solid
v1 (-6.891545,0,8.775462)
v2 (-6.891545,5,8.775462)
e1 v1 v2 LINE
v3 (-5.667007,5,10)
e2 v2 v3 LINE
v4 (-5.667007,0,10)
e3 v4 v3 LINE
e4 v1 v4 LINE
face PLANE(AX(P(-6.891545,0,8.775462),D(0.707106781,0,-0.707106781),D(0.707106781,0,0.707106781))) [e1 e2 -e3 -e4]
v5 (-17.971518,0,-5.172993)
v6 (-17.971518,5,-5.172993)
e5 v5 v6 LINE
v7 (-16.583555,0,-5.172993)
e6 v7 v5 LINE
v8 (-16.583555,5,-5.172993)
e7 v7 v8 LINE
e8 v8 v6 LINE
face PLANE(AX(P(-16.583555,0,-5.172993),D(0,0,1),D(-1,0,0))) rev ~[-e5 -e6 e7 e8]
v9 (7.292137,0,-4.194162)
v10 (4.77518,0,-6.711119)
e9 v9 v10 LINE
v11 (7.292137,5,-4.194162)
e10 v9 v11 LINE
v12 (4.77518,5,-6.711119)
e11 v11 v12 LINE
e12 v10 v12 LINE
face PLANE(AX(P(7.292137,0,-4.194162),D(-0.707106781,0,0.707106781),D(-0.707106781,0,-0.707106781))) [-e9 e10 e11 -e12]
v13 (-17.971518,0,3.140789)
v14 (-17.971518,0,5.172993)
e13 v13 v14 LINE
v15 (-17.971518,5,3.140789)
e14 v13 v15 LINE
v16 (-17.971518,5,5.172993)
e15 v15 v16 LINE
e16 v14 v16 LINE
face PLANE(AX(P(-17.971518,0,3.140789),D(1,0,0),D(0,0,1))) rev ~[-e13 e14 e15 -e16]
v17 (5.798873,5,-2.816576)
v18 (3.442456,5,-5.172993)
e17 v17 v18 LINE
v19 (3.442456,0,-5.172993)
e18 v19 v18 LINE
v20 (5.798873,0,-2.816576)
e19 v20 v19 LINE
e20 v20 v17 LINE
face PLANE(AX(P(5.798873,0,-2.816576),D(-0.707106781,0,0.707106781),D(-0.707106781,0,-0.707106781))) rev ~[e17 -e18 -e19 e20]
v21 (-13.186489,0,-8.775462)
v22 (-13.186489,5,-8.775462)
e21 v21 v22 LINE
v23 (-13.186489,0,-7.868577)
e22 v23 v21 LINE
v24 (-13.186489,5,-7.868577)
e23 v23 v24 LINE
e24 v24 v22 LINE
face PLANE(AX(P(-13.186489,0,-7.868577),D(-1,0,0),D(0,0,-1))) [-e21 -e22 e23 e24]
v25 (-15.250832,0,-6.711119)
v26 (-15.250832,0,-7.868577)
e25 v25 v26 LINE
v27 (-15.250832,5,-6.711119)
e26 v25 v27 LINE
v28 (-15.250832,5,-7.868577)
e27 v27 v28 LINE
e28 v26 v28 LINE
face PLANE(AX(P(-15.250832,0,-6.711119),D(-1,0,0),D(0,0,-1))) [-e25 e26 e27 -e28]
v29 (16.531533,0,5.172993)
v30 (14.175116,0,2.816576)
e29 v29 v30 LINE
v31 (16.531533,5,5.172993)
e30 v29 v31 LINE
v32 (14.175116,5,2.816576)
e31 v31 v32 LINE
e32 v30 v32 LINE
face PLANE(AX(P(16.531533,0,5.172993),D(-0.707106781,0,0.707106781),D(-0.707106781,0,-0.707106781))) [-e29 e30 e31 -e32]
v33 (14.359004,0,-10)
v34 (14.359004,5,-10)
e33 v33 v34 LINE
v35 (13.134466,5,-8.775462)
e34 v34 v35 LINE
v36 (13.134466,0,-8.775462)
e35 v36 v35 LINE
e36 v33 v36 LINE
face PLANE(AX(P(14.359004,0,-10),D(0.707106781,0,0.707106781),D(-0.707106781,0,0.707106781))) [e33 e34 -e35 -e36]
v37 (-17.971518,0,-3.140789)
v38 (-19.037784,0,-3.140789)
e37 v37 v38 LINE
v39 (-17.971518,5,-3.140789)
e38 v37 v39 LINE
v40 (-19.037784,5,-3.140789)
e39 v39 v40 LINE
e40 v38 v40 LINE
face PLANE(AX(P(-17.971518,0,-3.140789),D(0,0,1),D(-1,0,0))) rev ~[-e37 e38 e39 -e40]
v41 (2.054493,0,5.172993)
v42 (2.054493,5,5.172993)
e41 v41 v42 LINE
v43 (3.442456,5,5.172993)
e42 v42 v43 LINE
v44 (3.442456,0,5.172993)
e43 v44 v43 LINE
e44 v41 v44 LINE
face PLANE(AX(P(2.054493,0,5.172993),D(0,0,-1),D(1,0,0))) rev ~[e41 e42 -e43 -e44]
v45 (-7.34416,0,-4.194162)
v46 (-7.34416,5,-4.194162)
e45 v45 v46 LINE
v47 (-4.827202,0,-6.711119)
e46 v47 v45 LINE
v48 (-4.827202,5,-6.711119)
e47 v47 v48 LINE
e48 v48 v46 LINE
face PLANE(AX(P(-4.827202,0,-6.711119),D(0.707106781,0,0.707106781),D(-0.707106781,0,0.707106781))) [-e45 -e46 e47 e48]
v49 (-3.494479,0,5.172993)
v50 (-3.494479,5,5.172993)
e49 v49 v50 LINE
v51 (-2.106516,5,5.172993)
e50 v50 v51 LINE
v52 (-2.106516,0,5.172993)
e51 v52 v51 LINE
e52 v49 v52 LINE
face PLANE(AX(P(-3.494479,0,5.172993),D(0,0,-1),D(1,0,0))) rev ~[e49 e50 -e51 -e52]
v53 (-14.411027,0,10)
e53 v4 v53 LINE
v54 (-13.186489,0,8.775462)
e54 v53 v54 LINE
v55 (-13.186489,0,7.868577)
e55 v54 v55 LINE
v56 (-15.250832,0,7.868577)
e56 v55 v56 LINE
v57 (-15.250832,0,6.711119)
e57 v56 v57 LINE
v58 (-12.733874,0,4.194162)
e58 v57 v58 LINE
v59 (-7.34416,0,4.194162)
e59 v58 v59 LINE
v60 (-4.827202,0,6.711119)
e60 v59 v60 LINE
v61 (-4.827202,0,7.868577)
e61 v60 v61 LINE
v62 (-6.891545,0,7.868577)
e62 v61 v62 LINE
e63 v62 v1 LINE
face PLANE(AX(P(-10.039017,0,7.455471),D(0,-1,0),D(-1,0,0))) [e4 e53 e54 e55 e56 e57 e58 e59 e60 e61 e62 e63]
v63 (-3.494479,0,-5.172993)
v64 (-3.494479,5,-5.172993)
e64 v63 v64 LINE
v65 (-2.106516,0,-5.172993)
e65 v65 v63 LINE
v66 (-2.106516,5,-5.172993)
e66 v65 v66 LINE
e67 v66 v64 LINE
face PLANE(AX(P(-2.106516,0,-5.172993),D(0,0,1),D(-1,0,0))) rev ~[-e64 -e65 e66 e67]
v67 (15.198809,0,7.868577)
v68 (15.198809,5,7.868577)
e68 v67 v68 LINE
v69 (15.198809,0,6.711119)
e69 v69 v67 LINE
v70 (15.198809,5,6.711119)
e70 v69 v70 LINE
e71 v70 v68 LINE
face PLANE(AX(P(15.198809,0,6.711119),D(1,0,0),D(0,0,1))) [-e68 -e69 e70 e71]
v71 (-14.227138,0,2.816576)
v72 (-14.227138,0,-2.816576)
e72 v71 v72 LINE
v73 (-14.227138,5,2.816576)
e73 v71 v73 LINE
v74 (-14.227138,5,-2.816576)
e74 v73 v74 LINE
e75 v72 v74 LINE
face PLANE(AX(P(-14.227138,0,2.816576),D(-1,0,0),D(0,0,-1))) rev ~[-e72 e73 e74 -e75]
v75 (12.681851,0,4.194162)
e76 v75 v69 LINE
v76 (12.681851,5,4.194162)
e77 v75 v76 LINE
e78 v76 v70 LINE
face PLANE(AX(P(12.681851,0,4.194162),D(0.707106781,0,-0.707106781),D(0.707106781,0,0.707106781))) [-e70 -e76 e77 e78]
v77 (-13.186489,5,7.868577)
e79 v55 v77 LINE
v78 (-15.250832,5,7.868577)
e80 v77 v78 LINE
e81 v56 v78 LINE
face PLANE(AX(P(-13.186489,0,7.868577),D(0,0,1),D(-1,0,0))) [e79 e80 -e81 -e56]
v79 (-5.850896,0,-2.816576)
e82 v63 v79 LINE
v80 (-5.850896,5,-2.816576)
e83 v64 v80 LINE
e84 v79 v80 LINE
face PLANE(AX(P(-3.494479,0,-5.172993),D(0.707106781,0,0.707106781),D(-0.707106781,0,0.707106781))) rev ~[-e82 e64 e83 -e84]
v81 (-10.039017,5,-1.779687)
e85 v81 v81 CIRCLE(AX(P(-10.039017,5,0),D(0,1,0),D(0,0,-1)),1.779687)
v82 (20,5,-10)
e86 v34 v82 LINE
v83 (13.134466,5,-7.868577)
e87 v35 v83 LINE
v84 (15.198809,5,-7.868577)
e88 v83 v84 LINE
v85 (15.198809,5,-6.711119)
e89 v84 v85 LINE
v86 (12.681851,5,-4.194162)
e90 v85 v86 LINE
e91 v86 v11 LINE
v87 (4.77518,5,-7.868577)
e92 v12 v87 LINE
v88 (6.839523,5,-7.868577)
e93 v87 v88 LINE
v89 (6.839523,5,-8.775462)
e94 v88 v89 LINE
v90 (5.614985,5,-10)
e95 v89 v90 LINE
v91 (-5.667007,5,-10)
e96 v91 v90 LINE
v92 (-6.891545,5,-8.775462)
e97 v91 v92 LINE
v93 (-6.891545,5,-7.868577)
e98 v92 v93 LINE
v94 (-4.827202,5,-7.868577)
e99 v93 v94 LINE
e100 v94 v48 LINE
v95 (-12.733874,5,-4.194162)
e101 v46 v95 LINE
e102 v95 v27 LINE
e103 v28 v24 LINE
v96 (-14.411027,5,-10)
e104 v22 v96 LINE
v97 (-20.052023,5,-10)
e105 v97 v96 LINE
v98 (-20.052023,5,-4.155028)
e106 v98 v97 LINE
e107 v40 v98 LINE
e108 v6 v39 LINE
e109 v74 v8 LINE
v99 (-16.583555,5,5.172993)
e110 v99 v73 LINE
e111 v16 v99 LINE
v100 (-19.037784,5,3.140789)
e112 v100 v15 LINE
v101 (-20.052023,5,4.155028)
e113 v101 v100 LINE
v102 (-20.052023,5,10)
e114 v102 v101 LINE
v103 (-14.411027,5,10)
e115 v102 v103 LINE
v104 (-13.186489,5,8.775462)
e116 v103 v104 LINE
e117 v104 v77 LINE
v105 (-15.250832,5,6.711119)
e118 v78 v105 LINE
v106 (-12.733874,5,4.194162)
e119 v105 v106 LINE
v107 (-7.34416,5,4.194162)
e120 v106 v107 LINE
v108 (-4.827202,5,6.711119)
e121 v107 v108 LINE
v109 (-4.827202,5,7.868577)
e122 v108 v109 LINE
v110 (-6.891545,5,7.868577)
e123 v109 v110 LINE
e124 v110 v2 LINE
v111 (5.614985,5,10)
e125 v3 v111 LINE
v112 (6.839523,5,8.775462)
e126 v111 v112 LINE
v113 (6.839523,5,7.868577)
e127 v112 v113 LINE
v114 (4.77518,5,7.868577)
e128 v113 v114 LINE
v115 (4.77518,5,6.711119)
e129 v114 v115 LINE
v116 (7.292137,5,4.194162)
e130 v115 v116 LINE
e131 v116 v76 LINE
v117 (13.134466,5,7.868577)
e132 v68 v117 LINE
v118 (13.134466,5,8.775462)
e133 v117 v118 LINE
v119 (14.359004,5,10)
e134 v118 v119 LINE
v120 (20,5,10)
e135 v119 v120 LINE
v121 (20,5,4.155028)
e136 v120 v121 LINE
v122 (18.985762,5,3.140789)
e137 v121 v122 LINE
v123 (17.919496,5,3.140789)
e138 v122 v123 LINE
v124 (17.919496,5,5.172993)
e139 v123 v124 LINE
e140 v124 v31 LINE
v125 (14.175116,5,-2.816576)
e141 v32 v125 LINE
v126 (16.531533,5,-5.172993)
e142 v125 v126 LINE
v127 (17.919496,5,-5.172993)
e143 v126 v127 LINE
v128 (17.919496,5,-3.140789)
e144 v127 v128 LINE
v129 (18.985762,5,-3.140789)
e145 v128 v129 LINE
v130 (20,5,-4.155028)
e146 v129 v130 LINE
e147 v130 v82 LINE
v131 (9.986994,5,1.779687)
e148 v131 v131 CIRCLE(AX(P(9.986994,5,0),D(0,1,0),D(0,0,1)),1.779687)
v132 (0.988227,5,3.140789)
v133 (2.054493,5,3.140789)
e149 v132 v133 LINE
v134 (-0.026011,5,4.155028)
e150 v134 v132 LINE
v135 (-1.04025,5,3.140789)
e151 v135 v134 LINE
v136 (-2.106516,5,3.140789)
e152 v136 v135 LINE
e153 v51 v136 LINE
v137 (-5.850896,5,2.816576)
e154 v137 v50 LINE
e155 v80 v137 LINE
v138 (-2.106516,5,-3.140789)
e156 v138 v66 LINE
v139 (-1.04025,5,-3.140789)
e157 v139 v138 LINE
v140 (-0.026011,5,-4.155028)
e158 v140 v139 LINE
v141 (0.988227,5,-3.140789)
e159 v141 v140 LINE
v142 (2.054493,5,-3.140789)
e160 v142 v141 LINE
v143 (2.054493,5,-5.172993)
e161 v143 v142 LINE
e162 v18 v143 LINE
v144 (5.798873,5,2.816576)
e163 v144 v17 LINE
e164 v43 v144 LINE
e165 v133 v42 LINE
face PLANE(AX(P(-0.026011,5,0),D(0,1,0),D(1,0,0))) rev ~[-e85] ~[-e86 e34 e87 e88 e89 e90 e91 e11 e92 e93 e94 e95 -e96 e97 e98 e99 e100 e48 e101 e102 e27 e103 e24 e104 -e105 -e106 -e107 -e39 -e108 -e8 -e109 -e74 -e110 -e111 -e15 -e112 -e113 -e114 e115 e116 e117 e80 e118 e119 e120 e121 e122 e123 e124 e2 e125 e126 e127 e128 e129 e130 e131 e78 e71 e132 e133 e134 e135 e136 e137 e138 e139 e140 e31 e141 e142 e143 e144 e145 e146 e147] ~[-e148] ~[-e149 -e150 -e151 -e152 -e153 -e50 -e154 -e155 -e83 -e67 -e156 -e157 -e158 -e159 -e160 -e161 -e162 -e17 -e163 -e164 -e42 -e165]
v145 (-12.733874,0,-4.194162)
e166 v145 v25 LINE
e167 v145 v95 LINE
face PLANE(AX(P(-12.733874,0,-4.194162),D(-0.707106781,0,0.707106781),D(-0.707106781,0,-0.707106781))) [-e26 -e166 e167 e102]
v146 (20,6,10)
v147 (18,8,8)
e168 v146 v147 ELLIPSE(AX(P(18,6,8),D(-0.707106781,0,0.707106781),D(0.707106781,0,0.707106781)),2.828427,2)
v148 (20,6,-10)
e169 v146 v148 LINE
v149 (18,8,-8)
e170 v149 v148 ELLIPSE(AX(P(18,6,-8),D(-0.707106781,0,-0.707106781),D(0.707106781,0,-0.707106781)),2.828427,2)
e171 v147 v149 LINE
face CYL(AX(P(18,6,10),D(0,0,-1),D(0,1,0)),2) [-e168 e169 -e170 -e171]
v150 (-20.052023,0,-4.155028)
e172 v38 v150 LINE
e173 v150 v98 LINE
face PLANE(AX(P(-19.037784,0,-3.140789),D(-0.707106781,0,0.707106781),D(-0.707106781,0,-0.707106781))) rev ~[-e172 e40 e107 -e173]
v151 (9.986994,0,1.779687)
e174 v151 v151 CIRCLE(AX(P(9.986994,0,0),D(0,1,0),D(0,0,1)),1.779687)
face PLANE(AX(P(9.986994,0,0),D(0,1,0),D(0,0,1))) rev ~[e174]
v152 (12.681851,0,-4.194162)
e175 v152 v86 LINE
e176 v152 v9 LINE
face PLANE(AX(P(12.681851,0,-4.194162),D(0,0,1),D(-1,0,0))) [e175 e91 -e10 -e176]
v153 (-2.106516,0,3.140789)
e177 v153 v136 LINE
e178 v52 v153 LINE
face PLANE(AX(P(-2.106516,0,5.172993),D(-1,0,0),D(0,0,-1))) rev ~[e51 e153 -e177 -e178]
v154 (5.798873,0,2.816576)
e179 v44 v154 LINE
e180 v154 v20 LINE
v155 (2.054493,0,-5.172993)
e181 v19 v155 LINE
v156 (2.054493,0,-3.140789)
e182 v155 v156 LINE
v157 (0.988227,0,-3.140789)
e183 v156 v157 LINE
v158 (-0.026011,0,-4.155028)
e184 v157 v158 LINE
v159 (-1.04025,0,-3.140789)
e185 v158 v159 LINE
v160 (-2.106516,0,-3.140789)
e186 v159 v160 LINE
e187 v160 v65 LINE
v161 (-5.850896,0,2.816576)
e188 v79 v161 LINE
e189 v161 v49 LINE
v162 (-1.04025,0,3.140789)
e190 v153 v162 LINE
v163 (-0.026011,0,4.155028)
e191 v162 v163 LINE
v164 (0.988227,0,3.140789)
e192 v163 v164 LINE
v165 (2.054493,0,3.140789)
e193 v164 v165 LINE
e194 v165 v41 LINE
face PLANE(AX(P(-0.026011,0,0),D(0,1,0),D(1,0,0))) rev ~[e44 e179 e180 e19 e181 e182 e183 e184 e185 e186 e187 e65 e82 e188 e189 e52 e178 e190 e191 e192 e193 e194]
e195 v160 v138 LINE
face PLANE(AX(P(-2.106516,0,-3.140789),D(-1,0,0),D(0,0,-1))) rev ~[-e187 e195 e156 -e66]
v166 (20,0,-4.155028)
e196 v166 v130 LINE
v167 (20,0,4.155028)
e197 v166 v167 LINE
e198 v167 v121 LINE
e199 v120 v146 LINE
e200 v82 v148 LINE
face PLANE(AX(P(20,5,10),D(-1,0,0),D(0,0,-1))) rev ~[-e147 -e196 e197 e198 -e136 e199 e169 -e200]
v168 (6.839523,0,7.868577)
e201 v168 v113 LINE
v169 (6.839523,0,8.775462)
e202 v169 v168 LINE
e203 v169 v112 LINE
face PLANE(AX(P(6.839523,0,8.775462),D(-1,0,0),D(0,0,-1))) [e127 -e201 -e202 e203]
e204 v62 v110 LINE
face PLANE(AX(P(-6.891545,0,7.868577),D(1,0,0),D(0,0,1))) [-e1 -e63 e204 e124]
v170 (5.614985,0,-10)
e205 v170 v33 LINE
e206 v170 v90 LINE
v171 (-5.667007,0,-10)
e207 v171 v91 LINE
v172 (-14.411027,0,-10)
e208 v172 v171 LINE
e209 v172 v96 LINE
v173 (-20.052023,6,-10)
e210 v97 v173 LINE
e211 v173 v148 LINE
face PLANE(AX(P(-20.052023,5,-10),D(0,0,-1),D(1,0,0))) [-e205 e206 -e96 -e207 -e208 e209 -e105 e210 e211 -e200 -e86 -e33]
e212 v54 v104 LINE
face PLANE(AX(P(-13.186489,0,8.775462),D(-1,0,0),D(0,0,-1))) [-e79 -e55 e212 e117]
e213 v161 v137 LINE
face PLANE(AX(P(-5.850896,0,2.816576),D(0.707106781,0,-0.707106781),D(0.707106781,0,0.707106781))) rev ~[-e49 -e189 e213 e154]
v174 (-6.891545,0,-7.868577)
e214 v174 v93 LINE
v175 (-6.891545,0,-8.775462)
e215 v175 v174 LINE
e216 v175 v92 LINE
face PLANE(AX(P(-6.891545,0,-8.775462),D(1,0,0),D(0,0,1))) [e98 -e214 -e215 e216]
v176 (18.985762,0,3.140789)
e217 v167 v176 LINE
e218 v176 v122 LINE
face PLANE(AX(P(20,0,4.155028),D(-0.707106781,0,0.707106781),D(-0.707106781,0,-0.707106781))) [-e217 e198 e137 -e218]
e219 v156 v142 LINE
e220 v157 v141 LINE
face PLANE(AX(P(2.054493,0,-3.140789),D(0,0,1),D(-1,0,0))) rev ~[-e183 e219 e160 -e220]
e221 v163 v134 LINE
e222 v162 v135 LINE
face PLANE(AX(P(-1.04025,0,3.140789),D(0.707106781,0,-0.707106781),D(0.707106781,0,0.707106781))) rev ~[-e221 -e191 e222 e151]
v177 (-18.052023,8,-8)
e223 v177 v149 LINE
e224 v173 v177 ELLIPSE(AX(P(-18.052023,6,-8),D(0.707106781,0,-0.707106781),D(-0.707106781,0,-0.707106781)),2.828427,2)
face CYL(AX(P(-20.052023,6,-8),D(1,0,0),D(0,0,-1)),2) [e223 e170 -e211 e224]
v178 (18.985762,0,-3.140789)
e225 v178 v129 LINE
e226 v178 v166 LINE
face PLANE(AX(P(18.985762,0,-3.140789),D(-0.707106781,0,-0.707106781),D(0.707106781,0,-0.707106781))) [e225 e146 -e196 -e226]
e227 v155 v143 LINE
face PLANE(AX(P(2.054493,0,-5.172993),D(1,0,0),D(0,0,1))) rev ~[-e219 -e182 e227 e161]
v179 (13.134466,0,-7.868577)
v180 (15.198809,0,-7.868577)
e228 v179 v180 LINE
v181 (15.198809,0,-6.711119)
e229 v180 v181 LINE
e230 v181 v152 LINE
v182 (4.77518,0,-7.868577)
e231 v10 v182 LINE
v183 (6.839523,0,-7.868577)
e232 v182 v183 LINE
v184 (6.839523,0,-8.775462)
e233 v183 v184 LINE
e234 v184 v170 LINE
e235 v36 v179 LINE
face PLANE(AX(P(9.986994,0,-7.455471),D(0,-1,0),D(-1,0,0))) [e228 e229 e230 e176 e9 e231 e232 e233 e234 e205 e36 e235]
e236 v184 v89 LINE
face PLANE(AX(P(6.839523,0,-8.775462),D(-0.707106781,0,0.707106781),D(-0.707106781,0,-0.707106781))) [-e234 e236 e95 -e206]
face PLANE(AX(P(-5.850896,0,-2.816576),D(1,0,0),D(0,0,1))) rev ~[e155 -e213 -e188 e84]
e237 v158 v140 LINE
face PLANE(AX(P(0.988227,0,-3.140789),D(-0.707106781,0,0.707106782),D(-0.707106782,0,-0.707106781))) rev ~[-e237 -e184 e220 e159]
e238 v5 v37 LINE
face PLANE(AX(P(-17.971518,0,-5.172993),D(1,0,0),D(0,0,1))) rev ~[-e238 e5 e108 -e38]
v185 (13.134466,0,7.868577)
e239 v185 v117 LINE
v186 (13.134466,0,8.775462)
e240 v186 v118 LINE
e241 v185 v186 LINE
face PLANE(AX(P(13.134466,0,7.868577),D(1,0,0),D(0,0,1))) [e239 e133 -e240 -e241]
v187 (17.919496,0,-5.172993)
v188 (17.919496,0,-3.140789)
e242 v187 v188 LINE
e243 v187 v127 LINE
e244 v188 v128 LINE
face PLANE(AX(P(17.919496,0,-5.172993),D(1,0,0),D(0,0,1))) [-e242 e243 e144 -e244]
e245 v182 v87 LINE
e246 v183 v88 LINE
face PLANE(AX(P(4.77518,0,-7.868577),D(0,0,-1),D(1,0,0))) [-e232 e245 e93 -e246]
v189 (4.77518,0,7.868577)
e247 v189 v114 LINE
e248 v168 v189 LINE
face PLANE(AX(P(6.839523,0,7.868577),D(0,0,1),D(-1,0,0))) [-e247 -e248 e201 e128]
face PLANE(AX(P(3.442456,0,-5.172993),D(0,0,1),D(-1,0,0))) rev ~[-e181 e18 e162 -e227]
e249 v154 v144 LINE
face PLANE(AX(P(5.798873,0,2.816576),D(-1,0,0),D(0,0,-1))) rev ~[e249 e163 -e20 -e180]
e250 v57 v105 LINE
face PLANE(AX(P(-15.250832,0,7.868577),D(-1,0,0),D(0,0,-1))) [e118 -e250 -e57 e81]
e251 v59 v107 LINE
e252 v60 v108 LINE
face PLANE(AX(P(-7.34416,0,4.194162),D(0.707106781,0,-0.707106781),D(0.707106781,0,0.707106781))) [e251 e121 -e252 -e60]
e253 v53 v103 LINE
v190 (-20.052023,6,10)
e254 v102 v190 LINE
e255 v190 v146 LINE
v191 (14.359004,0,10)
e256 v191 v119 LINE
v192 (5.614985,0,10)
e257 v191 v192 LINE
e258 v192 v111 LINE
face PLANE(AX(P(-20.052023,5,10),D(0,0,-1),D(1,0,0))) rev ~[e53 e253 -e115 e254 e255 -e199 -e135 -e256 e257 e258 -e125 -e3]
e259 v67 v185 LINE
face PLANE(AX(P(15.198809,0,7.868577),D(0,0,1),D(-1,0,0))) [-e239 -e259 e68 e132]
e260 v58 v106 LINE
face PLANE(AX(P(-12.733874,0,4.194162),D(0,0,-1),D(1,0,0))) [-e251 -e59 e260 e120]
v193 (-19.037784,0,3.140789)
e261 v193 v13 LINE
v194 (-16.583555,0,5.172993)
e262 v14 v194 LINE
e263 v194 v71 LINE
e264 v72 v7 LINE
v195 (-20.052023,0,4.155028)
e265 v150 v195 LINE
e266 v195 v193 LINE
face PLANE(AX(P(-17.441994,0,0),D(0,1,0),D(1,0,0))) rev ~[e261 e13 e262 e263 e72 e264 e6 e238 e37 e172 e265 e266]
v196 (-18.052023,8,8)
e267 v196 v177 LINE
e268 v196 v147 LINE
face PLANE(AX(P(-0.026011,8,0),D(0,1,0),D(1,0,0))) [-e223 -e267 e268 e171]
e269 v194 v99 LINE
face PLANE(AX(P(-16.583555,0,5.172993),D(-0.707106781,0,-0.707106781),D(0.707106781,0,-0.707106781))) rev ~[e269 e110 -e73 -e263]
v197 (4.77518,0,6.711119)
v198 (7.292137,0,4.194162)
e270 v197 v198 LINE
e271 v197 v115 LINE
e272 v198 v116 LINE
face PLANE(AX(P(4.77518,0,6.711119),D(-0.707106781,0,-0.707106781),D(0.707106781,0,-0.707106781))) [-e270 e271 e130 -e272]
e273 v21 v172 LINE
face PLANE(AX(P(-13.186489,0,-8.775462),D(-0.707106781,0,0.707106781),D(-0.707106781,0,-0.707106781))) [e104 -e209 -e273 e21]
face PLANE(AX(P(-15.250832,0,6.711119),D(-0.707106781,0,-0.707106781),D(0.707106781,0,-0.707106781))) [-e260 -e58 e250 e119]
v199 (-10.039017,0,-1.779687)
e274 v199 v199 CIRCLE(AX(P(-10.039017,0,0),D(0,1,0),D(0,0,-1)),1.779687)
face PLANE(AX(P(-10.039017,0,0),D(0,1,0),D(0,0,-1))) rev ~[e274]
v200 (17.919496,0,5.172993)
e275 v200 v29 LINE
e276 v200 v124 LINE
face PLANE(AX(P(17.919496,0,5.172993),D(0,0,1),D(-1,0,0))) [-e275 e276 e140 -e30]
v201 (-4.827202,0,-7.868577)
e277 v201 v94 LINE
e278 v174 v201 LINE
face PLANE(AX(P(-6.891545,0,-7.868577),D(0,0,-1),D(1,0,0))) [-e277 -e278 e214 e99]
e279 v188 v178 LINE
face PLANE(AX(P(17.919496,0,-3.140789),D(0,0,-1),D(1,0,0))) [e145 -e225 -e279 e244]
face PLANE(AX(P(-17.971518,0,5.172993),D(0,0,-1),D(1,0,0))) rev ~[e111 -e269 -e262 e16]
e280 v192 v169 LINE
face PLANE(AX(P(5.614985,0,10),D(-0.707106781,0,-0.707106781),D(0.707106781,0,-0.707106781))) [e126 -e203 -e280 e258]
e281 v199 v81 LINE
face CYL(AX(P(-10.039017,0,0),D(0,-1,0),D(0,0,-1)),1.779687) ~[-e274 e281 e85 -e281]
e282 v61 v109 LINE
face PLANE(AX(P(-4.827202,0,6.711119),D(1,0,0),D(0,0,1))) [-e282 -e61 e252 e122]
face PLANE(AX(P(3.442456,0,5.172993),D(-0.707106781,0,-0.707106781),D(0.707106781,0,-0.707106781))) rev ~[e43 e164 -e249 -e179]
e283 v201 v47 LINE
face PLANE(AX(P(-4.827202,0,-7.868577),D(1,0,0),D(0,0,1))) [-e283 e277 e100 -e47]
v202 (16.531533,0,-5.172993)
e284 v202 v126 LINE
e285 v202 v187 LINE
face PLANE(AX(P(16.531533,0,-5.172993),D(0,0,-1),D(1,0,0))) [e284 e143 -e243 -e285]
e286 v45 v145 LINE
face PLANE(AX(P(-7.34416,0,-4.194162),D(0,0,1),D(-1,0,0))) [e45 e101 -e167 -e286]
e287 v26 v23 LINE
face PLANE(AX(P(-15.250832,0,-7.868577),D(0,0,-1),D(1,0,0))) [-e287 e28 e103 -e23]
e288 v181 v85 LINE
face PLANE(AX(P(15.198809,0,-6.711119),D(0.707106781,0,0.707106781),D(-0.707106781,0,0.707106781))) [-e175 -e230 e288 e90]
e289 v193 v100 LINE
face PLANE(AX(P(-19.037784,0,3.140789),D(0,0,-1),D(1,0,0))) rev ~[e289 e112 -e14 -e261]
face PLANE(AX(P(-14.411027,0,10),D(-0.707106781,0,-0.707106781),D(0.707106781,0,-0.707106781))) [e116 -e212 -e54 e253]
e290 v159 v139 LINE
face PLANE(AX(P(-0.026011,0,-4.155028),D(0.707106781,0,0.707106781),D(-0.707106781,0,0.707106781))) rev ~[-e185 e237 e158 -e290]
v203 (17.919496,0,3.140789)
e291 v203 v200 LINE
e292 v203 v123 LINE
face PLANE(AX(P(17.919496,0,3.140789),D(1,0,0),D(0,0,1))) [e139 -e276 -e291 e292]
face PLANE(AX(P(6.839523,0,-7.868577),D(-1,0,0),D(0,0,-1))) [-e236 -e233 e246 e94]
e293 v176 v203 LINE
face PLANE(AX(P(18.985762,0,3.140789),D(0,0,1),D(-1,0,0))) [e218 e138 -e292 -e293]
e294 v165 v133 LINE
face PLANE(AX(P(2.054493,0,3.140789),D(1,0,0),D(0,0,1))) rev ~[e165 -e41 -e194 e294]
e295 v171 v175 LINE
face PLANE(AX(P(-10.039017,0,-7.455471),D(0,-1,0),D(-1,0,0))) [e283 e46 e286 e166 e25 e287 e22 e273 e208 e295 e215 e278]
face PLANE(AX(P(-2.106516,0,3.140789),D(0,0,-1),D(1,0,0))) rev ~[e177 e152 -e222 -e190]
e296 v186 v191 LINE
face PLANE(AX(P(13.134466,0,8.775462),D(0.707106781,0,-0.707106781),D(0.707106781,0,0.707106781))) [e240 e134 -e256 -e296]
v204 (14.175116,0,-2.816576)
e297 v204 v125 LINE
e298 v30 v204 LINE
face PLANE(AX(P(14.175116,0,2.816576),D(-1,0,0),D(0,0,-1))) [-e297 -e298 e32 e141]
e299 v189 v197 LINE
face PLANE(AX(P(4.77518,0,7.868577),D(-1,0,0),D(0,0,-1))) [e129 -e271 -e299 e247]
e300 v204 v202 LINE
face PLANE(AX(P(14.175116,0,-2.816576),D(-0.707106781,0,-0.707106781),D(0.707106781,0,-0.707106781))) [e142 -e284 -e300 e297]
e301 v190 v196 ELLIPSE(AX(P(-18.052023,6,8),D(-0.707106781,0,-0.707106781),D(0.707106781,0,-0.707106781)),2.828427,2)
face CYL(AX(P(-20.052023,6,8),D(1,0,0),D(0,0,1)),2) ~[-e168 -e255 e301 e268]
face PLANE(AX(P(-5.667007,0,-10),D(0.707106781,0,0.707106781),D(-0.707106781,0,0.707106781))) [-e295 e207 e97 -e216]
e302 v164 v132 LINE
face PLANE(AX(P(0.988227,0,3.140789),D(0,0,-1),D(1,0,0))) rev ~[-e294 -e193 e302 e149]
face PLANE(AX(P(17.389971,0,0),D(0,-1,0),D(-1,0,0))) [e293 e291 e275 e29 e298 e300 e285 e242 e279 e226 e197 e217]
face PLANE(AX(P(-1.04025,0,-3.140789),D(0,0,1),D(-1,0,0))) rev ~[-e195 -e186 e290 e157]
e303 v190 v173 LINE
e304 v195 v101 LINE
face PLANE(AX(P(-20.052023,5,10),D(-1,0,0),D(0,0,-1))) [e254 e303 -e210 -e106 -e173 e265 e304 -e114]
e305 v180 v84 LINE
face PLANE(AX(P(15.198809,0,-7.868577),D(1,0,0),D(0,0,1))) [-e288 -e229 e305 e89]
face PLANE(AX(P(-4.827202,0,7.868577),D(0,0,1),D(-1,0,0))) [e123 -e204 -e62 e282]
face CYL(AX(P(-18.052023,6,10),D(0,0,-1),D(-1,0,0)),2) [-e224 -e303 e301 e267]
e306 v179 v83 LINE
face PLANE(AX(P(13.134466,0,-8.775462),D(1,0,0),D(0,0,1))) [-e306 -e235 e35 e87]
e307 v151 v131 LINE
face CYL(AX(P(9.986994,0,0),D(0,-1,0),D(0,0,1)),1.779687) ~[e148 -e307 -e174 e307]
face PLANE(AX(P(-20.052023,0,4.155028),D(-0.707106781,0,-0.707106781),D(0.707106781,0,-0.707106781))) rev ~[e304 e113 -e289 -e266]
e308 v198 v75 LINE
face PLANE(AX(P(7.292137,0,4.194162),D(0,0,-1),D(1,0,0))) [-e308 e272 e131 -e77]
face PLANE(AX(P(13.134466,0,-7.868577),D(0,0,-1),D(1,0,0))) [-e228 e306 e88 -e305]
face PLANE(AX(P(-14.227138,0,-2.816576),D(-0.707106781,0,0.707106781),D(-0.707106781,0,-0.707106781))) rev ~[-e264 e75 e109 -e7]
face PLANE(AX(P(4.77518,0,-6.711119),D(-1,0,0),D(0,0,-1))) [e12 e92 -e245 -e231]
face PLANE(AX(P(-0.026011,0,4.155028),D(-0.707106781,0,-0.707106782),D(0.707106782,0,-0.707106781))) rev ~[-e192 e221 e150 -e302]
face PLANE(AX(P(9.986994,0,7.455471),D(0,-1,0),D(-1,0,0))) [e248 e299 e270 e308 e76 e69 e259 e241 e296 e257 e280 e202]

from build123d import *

# Parameters (mm, degrees)
CROQUIS2_R                = 1.779687177
SALIENTE_EXTRUIR1_DEPTH   = 5
SALIENTE_EXTRUIR1_2_DEPTH = 5
SALIENTE_EXTRUIR1_3_DEPTH = 5
SALIENTE_EXTRUIR1_4_DEPTH = 5
SALIENTE_EXTRUIR1_5_DEPTH = 5
SALIENTE_EXTRUIR1_6_DEPTH = 5
SALIENTE_EXTRUIR1_7_DEPTH = 5
SALIENTE_EXTRUIR1_8_DEPTH = 5
SALIENTE_EXTRUIR1_9_DEPTH = 5
CROQUIS3_W                = 40.052022685
CROQUIS3_H                = 20
SALIENTE_EXTRUIR2_DEPTH   = 3
REDONDEO1_R               = 2


with BuildPart() as part:
    # Croquis2 → Saliente-Extruir1 (new body)
    with BuildSketch(Plane(origin=(0, 0, 0), x_dir=(1, 0, 0), z_dir=(0, 1, 0))):
        with Locations(Location((-10.039017014, 0, 0), (0, 0, 90))):
            Circle(CROQUIS2_R)
    extrude(amount=SALIENTE_EXTRUIR1_DEPTH)



with BuildPart() as body_2:
    # Croquis2 → Saliente-Extruir1 2 (new body)
    with BuildSketch(Plane(origin=(0, 0, 0), x_dir=(1, 0, 0), z_dir=(0, 1, 0))):
        with Locations(Location((9.986994329, 0, 0), (0, 0, 270))):
            Circle(CROQUIS2_R)
    extrude(amount=SALIENTE_EXTRUIR1_2_DEPTH)


with BuildPart() as body_3:
    # Croquis2 → Saliente-Extruir1 3 (new body)
    with BuildSketch(Plane(origin=(0, 0, 0), x_dir=(1, 0, 0), z_dir=(0, 1, 0))):
        Polygon((5.614984779, 10), (14.359003879, 10), (13.134466077, 8.775462198), (13.134466077, 7.868577354), (15.198808852, 7.868577354), (15.198808852, 6.711119422), (12.681851378, 4.194161948), (7.292137279, 4.194161948), (4.775179805, 6.711119422), (4.775179805, 7.868577354), (6.839522581, 7.868577354), (6.839522581, 8.775462198), align=None)
    extrude(amount=SALIENTE_EXTRUIR1_3_DEPTH)


with BuildPart() as body_4:
    # Croquis2 → Saliente-Extruir1 4 (new body)
    with BuildSketch(Plane(origin=(0, 0, 0), x_dir=(1, 0, 0), z_dir=(0, 1, 0))):
        Polygon((20, 4.155027818), (20, -4.155027818), (18.985761672, -3.14078949), (17.919495795, -3.14078949), (17.919495795, -5.172992947), (16.531532714, -5.172992947), (14.175115642, -2.816575874), (14.175115642, 2.816575874), (16.531532714, 5.172992947), (17.919495795, 5.172992947), (17.919495795, 3.14078949), (18.985761672, 3.14078949), align=None)
    extrude(amount=SALIENTE_EXTRUIR1_4_DEPTH)


with BuildPart() as body_5:
    # Croquis2 → Saliente-Extruir1 5 (new body)
    with BuildSketch(Plane(origin=(0, 0, 0), x_dir=(1, 0, 0), z_dir=(0, 1, 0))):
        Polygon((-0.026011343, 4.155027818), (-1.040249671, 3.14078949), (-2.106515548, 3.14078949), (-2.106515548, 5.172992947), (-3.494478629, 5.172992947), (-5.850895701, 2.816575874), (-5.850895701, -2.816575874), (-3.494478629, -5.172992947), (-2.106515548, -5.172992947), (-2.106515548, -3.14078949), (-1.040249671, -3.14078949), (-0.026011343, -4.155027818), (0.988226986, -3.14078949), (2.054492862, -3.14078949), (2.054492862, -5.172992947), (3.442455943, -5.172992947), (5.798873016, -2.816575874), (5.798873016, 2.816575874), (3.442455943, 5.172992947), (2.054492862, 5.172992947), (2.054492862, 3.14078949), (0.988226986, 3.14078949), align=None)
    extrude(amount=SALIENTE_EXTRUIR1_5_DEPTH)


with BuildPart() as body_6:
    # Croquis2 → Saliente-Extruir1 6 (new body)
    with BuildSketch(Plane(origin=(0, 0, 0), x_dir=(1, 0, 0), z_dir=(0, 1, 0))):
        Polygon((4.775179805, -6.711119422), (7.292137279, -4.194161948), (12.681851378, -4.194161948), (15.198808852, -6.711119422), (15.198808852, -7.868577354), (13.134466077, -7.868577354), (13.134466077, -8.775462198), (14.359003879, -10), (5.614984779, -10), (6.839522581, -8.775462198), (6.839522581, -7.868577354), (4.775179805, -7.868577354), align=None)
    extrude(amount=SALIENTE_EXTRUIR1_6_DEPTH)


with BuildPart() as body_7:
    # Croquis2 → Saliente-Extruir1 7 (new body)
    with BuildSketch(Plane(origin=(0, 0, 0), x_dir=(1, 0, 0), z_dir=(0, 1, 0))):
        Polygon((-12.733874064, -4.194161948), (-7.344159964, -4.194161948), (-4.82720249, -6.711119422), (-4.82720249, -7.868577354), (-6.891545266, -7.868577354), (-6.891545266, -8.775462198), (-5.667007464, -10), (-14.411026564, -10), (-13.186488762, -8.775462198), (-13.186488762, -7.868577354), (-15.250831538, -7.868577354), (-15.250831538, -6.711119422), align=None)
    extrude(amount=SALIENTE_EXTRUIR1_7_DEPTH)


with BuildPart() as body_8:
    # Croquis2 → Saliente-Extruir1 8 (new body)
    with BuildSketch(Plane(origin=(0, 0, 0), x_dir=(1, 0, 0), z_dir=(0, 1, 0))):
        Polygon((-16.583555399, -5.172992947), (-14.227138327, -2.816575874), (-14.227138327, 2.816575874), (-16.583555399, 5.172992947), (-17.97151848, 5.172992947), (-17.97151848, 3.14078949), (-19.037784357, 3.14078949), (-20.052022685, 4.155027818), (-20.052022685, -4.155027818), (-19.037784357, -3.14078949), (-17.97151848, -3.14078949), (-17.97151848, -5.172992947), align=None)
    extrude(amount=SALIENTE_EXTRUIR1_8_DEPTH)


with BuildPart() as body_9:
    # Croquis2 → Saliente-Extruir1 9 (new body)
    with BuildSketch(Plane(origin=(0, 0, 0), x_dir=(1, 0, 0), z_dir=(0, 1, 0))):
        Polygon((-5.667007464, 10), (-6.891545266, 8.775462198), (-6.891545266, 7.868577354), (-4.82720249, 7.868577354), (-4.82720249, 6.711119422), (-7.344159964, 4.194161948), (-12.733874064, 4.194161948), (-15.250831538, 6.711119422), (-15.250831538, 7.868577354), (-13.186488762, 7.868577354), (-13.186488762, 8.775462198), (-14.411026564, 10), align=None)
    extrude(amount=SALIENTE_EXTRUIR1_9_DEPTH)


with BuildPart() as part_1:
    add(part.part)

    add(body_2.part)  # Saliente-Extruir2 merges body 2

    add(body_3.part)  # Saliente-Extruir2 merges body 3

    add(body_4.part)  # Saliente-Extruir2 merges body 4

    add(body_5.part)  # Saliente-Extruir2 merges body 5

    add(body_6.part)  # Saliente-Extruir2 merges body 6

    add(body_7.part)  # Saliente-Extruir2 merges body 7

    add(body_8.part)  # Saliente-Extruir2 merges body 8

    add(body_9.part)  # Saliente-Extruir2 merges body 9
    # Croquis3 → Saliente-Extruir2 (add)
    with BuildSketch(Plane(origin=(0, 5, 0), x_dir=(1, 0, 0), z_dir=(0, 1, 0))):
        with Locations((-0.026011343, 0)):
            Rectangle(CROQUIS3_W, CROQUIS3_H)
    extrude(amount=SALIENTE_EXTRUIR2_DEPTH)

    # Redondeo1
    redondeo1_edges = [part_1.edges().sort_by_distance(p)[0] for p in [
        (-20.052022685, 8, 0),
        (-0.026011343, 8, 10),
        (20, 8, 0),
        (-0.026011343, 8, -10),
    ]]
    fillet(redondeo1_edges, radius=REDONDEO1_R)


solid = part_1.part
